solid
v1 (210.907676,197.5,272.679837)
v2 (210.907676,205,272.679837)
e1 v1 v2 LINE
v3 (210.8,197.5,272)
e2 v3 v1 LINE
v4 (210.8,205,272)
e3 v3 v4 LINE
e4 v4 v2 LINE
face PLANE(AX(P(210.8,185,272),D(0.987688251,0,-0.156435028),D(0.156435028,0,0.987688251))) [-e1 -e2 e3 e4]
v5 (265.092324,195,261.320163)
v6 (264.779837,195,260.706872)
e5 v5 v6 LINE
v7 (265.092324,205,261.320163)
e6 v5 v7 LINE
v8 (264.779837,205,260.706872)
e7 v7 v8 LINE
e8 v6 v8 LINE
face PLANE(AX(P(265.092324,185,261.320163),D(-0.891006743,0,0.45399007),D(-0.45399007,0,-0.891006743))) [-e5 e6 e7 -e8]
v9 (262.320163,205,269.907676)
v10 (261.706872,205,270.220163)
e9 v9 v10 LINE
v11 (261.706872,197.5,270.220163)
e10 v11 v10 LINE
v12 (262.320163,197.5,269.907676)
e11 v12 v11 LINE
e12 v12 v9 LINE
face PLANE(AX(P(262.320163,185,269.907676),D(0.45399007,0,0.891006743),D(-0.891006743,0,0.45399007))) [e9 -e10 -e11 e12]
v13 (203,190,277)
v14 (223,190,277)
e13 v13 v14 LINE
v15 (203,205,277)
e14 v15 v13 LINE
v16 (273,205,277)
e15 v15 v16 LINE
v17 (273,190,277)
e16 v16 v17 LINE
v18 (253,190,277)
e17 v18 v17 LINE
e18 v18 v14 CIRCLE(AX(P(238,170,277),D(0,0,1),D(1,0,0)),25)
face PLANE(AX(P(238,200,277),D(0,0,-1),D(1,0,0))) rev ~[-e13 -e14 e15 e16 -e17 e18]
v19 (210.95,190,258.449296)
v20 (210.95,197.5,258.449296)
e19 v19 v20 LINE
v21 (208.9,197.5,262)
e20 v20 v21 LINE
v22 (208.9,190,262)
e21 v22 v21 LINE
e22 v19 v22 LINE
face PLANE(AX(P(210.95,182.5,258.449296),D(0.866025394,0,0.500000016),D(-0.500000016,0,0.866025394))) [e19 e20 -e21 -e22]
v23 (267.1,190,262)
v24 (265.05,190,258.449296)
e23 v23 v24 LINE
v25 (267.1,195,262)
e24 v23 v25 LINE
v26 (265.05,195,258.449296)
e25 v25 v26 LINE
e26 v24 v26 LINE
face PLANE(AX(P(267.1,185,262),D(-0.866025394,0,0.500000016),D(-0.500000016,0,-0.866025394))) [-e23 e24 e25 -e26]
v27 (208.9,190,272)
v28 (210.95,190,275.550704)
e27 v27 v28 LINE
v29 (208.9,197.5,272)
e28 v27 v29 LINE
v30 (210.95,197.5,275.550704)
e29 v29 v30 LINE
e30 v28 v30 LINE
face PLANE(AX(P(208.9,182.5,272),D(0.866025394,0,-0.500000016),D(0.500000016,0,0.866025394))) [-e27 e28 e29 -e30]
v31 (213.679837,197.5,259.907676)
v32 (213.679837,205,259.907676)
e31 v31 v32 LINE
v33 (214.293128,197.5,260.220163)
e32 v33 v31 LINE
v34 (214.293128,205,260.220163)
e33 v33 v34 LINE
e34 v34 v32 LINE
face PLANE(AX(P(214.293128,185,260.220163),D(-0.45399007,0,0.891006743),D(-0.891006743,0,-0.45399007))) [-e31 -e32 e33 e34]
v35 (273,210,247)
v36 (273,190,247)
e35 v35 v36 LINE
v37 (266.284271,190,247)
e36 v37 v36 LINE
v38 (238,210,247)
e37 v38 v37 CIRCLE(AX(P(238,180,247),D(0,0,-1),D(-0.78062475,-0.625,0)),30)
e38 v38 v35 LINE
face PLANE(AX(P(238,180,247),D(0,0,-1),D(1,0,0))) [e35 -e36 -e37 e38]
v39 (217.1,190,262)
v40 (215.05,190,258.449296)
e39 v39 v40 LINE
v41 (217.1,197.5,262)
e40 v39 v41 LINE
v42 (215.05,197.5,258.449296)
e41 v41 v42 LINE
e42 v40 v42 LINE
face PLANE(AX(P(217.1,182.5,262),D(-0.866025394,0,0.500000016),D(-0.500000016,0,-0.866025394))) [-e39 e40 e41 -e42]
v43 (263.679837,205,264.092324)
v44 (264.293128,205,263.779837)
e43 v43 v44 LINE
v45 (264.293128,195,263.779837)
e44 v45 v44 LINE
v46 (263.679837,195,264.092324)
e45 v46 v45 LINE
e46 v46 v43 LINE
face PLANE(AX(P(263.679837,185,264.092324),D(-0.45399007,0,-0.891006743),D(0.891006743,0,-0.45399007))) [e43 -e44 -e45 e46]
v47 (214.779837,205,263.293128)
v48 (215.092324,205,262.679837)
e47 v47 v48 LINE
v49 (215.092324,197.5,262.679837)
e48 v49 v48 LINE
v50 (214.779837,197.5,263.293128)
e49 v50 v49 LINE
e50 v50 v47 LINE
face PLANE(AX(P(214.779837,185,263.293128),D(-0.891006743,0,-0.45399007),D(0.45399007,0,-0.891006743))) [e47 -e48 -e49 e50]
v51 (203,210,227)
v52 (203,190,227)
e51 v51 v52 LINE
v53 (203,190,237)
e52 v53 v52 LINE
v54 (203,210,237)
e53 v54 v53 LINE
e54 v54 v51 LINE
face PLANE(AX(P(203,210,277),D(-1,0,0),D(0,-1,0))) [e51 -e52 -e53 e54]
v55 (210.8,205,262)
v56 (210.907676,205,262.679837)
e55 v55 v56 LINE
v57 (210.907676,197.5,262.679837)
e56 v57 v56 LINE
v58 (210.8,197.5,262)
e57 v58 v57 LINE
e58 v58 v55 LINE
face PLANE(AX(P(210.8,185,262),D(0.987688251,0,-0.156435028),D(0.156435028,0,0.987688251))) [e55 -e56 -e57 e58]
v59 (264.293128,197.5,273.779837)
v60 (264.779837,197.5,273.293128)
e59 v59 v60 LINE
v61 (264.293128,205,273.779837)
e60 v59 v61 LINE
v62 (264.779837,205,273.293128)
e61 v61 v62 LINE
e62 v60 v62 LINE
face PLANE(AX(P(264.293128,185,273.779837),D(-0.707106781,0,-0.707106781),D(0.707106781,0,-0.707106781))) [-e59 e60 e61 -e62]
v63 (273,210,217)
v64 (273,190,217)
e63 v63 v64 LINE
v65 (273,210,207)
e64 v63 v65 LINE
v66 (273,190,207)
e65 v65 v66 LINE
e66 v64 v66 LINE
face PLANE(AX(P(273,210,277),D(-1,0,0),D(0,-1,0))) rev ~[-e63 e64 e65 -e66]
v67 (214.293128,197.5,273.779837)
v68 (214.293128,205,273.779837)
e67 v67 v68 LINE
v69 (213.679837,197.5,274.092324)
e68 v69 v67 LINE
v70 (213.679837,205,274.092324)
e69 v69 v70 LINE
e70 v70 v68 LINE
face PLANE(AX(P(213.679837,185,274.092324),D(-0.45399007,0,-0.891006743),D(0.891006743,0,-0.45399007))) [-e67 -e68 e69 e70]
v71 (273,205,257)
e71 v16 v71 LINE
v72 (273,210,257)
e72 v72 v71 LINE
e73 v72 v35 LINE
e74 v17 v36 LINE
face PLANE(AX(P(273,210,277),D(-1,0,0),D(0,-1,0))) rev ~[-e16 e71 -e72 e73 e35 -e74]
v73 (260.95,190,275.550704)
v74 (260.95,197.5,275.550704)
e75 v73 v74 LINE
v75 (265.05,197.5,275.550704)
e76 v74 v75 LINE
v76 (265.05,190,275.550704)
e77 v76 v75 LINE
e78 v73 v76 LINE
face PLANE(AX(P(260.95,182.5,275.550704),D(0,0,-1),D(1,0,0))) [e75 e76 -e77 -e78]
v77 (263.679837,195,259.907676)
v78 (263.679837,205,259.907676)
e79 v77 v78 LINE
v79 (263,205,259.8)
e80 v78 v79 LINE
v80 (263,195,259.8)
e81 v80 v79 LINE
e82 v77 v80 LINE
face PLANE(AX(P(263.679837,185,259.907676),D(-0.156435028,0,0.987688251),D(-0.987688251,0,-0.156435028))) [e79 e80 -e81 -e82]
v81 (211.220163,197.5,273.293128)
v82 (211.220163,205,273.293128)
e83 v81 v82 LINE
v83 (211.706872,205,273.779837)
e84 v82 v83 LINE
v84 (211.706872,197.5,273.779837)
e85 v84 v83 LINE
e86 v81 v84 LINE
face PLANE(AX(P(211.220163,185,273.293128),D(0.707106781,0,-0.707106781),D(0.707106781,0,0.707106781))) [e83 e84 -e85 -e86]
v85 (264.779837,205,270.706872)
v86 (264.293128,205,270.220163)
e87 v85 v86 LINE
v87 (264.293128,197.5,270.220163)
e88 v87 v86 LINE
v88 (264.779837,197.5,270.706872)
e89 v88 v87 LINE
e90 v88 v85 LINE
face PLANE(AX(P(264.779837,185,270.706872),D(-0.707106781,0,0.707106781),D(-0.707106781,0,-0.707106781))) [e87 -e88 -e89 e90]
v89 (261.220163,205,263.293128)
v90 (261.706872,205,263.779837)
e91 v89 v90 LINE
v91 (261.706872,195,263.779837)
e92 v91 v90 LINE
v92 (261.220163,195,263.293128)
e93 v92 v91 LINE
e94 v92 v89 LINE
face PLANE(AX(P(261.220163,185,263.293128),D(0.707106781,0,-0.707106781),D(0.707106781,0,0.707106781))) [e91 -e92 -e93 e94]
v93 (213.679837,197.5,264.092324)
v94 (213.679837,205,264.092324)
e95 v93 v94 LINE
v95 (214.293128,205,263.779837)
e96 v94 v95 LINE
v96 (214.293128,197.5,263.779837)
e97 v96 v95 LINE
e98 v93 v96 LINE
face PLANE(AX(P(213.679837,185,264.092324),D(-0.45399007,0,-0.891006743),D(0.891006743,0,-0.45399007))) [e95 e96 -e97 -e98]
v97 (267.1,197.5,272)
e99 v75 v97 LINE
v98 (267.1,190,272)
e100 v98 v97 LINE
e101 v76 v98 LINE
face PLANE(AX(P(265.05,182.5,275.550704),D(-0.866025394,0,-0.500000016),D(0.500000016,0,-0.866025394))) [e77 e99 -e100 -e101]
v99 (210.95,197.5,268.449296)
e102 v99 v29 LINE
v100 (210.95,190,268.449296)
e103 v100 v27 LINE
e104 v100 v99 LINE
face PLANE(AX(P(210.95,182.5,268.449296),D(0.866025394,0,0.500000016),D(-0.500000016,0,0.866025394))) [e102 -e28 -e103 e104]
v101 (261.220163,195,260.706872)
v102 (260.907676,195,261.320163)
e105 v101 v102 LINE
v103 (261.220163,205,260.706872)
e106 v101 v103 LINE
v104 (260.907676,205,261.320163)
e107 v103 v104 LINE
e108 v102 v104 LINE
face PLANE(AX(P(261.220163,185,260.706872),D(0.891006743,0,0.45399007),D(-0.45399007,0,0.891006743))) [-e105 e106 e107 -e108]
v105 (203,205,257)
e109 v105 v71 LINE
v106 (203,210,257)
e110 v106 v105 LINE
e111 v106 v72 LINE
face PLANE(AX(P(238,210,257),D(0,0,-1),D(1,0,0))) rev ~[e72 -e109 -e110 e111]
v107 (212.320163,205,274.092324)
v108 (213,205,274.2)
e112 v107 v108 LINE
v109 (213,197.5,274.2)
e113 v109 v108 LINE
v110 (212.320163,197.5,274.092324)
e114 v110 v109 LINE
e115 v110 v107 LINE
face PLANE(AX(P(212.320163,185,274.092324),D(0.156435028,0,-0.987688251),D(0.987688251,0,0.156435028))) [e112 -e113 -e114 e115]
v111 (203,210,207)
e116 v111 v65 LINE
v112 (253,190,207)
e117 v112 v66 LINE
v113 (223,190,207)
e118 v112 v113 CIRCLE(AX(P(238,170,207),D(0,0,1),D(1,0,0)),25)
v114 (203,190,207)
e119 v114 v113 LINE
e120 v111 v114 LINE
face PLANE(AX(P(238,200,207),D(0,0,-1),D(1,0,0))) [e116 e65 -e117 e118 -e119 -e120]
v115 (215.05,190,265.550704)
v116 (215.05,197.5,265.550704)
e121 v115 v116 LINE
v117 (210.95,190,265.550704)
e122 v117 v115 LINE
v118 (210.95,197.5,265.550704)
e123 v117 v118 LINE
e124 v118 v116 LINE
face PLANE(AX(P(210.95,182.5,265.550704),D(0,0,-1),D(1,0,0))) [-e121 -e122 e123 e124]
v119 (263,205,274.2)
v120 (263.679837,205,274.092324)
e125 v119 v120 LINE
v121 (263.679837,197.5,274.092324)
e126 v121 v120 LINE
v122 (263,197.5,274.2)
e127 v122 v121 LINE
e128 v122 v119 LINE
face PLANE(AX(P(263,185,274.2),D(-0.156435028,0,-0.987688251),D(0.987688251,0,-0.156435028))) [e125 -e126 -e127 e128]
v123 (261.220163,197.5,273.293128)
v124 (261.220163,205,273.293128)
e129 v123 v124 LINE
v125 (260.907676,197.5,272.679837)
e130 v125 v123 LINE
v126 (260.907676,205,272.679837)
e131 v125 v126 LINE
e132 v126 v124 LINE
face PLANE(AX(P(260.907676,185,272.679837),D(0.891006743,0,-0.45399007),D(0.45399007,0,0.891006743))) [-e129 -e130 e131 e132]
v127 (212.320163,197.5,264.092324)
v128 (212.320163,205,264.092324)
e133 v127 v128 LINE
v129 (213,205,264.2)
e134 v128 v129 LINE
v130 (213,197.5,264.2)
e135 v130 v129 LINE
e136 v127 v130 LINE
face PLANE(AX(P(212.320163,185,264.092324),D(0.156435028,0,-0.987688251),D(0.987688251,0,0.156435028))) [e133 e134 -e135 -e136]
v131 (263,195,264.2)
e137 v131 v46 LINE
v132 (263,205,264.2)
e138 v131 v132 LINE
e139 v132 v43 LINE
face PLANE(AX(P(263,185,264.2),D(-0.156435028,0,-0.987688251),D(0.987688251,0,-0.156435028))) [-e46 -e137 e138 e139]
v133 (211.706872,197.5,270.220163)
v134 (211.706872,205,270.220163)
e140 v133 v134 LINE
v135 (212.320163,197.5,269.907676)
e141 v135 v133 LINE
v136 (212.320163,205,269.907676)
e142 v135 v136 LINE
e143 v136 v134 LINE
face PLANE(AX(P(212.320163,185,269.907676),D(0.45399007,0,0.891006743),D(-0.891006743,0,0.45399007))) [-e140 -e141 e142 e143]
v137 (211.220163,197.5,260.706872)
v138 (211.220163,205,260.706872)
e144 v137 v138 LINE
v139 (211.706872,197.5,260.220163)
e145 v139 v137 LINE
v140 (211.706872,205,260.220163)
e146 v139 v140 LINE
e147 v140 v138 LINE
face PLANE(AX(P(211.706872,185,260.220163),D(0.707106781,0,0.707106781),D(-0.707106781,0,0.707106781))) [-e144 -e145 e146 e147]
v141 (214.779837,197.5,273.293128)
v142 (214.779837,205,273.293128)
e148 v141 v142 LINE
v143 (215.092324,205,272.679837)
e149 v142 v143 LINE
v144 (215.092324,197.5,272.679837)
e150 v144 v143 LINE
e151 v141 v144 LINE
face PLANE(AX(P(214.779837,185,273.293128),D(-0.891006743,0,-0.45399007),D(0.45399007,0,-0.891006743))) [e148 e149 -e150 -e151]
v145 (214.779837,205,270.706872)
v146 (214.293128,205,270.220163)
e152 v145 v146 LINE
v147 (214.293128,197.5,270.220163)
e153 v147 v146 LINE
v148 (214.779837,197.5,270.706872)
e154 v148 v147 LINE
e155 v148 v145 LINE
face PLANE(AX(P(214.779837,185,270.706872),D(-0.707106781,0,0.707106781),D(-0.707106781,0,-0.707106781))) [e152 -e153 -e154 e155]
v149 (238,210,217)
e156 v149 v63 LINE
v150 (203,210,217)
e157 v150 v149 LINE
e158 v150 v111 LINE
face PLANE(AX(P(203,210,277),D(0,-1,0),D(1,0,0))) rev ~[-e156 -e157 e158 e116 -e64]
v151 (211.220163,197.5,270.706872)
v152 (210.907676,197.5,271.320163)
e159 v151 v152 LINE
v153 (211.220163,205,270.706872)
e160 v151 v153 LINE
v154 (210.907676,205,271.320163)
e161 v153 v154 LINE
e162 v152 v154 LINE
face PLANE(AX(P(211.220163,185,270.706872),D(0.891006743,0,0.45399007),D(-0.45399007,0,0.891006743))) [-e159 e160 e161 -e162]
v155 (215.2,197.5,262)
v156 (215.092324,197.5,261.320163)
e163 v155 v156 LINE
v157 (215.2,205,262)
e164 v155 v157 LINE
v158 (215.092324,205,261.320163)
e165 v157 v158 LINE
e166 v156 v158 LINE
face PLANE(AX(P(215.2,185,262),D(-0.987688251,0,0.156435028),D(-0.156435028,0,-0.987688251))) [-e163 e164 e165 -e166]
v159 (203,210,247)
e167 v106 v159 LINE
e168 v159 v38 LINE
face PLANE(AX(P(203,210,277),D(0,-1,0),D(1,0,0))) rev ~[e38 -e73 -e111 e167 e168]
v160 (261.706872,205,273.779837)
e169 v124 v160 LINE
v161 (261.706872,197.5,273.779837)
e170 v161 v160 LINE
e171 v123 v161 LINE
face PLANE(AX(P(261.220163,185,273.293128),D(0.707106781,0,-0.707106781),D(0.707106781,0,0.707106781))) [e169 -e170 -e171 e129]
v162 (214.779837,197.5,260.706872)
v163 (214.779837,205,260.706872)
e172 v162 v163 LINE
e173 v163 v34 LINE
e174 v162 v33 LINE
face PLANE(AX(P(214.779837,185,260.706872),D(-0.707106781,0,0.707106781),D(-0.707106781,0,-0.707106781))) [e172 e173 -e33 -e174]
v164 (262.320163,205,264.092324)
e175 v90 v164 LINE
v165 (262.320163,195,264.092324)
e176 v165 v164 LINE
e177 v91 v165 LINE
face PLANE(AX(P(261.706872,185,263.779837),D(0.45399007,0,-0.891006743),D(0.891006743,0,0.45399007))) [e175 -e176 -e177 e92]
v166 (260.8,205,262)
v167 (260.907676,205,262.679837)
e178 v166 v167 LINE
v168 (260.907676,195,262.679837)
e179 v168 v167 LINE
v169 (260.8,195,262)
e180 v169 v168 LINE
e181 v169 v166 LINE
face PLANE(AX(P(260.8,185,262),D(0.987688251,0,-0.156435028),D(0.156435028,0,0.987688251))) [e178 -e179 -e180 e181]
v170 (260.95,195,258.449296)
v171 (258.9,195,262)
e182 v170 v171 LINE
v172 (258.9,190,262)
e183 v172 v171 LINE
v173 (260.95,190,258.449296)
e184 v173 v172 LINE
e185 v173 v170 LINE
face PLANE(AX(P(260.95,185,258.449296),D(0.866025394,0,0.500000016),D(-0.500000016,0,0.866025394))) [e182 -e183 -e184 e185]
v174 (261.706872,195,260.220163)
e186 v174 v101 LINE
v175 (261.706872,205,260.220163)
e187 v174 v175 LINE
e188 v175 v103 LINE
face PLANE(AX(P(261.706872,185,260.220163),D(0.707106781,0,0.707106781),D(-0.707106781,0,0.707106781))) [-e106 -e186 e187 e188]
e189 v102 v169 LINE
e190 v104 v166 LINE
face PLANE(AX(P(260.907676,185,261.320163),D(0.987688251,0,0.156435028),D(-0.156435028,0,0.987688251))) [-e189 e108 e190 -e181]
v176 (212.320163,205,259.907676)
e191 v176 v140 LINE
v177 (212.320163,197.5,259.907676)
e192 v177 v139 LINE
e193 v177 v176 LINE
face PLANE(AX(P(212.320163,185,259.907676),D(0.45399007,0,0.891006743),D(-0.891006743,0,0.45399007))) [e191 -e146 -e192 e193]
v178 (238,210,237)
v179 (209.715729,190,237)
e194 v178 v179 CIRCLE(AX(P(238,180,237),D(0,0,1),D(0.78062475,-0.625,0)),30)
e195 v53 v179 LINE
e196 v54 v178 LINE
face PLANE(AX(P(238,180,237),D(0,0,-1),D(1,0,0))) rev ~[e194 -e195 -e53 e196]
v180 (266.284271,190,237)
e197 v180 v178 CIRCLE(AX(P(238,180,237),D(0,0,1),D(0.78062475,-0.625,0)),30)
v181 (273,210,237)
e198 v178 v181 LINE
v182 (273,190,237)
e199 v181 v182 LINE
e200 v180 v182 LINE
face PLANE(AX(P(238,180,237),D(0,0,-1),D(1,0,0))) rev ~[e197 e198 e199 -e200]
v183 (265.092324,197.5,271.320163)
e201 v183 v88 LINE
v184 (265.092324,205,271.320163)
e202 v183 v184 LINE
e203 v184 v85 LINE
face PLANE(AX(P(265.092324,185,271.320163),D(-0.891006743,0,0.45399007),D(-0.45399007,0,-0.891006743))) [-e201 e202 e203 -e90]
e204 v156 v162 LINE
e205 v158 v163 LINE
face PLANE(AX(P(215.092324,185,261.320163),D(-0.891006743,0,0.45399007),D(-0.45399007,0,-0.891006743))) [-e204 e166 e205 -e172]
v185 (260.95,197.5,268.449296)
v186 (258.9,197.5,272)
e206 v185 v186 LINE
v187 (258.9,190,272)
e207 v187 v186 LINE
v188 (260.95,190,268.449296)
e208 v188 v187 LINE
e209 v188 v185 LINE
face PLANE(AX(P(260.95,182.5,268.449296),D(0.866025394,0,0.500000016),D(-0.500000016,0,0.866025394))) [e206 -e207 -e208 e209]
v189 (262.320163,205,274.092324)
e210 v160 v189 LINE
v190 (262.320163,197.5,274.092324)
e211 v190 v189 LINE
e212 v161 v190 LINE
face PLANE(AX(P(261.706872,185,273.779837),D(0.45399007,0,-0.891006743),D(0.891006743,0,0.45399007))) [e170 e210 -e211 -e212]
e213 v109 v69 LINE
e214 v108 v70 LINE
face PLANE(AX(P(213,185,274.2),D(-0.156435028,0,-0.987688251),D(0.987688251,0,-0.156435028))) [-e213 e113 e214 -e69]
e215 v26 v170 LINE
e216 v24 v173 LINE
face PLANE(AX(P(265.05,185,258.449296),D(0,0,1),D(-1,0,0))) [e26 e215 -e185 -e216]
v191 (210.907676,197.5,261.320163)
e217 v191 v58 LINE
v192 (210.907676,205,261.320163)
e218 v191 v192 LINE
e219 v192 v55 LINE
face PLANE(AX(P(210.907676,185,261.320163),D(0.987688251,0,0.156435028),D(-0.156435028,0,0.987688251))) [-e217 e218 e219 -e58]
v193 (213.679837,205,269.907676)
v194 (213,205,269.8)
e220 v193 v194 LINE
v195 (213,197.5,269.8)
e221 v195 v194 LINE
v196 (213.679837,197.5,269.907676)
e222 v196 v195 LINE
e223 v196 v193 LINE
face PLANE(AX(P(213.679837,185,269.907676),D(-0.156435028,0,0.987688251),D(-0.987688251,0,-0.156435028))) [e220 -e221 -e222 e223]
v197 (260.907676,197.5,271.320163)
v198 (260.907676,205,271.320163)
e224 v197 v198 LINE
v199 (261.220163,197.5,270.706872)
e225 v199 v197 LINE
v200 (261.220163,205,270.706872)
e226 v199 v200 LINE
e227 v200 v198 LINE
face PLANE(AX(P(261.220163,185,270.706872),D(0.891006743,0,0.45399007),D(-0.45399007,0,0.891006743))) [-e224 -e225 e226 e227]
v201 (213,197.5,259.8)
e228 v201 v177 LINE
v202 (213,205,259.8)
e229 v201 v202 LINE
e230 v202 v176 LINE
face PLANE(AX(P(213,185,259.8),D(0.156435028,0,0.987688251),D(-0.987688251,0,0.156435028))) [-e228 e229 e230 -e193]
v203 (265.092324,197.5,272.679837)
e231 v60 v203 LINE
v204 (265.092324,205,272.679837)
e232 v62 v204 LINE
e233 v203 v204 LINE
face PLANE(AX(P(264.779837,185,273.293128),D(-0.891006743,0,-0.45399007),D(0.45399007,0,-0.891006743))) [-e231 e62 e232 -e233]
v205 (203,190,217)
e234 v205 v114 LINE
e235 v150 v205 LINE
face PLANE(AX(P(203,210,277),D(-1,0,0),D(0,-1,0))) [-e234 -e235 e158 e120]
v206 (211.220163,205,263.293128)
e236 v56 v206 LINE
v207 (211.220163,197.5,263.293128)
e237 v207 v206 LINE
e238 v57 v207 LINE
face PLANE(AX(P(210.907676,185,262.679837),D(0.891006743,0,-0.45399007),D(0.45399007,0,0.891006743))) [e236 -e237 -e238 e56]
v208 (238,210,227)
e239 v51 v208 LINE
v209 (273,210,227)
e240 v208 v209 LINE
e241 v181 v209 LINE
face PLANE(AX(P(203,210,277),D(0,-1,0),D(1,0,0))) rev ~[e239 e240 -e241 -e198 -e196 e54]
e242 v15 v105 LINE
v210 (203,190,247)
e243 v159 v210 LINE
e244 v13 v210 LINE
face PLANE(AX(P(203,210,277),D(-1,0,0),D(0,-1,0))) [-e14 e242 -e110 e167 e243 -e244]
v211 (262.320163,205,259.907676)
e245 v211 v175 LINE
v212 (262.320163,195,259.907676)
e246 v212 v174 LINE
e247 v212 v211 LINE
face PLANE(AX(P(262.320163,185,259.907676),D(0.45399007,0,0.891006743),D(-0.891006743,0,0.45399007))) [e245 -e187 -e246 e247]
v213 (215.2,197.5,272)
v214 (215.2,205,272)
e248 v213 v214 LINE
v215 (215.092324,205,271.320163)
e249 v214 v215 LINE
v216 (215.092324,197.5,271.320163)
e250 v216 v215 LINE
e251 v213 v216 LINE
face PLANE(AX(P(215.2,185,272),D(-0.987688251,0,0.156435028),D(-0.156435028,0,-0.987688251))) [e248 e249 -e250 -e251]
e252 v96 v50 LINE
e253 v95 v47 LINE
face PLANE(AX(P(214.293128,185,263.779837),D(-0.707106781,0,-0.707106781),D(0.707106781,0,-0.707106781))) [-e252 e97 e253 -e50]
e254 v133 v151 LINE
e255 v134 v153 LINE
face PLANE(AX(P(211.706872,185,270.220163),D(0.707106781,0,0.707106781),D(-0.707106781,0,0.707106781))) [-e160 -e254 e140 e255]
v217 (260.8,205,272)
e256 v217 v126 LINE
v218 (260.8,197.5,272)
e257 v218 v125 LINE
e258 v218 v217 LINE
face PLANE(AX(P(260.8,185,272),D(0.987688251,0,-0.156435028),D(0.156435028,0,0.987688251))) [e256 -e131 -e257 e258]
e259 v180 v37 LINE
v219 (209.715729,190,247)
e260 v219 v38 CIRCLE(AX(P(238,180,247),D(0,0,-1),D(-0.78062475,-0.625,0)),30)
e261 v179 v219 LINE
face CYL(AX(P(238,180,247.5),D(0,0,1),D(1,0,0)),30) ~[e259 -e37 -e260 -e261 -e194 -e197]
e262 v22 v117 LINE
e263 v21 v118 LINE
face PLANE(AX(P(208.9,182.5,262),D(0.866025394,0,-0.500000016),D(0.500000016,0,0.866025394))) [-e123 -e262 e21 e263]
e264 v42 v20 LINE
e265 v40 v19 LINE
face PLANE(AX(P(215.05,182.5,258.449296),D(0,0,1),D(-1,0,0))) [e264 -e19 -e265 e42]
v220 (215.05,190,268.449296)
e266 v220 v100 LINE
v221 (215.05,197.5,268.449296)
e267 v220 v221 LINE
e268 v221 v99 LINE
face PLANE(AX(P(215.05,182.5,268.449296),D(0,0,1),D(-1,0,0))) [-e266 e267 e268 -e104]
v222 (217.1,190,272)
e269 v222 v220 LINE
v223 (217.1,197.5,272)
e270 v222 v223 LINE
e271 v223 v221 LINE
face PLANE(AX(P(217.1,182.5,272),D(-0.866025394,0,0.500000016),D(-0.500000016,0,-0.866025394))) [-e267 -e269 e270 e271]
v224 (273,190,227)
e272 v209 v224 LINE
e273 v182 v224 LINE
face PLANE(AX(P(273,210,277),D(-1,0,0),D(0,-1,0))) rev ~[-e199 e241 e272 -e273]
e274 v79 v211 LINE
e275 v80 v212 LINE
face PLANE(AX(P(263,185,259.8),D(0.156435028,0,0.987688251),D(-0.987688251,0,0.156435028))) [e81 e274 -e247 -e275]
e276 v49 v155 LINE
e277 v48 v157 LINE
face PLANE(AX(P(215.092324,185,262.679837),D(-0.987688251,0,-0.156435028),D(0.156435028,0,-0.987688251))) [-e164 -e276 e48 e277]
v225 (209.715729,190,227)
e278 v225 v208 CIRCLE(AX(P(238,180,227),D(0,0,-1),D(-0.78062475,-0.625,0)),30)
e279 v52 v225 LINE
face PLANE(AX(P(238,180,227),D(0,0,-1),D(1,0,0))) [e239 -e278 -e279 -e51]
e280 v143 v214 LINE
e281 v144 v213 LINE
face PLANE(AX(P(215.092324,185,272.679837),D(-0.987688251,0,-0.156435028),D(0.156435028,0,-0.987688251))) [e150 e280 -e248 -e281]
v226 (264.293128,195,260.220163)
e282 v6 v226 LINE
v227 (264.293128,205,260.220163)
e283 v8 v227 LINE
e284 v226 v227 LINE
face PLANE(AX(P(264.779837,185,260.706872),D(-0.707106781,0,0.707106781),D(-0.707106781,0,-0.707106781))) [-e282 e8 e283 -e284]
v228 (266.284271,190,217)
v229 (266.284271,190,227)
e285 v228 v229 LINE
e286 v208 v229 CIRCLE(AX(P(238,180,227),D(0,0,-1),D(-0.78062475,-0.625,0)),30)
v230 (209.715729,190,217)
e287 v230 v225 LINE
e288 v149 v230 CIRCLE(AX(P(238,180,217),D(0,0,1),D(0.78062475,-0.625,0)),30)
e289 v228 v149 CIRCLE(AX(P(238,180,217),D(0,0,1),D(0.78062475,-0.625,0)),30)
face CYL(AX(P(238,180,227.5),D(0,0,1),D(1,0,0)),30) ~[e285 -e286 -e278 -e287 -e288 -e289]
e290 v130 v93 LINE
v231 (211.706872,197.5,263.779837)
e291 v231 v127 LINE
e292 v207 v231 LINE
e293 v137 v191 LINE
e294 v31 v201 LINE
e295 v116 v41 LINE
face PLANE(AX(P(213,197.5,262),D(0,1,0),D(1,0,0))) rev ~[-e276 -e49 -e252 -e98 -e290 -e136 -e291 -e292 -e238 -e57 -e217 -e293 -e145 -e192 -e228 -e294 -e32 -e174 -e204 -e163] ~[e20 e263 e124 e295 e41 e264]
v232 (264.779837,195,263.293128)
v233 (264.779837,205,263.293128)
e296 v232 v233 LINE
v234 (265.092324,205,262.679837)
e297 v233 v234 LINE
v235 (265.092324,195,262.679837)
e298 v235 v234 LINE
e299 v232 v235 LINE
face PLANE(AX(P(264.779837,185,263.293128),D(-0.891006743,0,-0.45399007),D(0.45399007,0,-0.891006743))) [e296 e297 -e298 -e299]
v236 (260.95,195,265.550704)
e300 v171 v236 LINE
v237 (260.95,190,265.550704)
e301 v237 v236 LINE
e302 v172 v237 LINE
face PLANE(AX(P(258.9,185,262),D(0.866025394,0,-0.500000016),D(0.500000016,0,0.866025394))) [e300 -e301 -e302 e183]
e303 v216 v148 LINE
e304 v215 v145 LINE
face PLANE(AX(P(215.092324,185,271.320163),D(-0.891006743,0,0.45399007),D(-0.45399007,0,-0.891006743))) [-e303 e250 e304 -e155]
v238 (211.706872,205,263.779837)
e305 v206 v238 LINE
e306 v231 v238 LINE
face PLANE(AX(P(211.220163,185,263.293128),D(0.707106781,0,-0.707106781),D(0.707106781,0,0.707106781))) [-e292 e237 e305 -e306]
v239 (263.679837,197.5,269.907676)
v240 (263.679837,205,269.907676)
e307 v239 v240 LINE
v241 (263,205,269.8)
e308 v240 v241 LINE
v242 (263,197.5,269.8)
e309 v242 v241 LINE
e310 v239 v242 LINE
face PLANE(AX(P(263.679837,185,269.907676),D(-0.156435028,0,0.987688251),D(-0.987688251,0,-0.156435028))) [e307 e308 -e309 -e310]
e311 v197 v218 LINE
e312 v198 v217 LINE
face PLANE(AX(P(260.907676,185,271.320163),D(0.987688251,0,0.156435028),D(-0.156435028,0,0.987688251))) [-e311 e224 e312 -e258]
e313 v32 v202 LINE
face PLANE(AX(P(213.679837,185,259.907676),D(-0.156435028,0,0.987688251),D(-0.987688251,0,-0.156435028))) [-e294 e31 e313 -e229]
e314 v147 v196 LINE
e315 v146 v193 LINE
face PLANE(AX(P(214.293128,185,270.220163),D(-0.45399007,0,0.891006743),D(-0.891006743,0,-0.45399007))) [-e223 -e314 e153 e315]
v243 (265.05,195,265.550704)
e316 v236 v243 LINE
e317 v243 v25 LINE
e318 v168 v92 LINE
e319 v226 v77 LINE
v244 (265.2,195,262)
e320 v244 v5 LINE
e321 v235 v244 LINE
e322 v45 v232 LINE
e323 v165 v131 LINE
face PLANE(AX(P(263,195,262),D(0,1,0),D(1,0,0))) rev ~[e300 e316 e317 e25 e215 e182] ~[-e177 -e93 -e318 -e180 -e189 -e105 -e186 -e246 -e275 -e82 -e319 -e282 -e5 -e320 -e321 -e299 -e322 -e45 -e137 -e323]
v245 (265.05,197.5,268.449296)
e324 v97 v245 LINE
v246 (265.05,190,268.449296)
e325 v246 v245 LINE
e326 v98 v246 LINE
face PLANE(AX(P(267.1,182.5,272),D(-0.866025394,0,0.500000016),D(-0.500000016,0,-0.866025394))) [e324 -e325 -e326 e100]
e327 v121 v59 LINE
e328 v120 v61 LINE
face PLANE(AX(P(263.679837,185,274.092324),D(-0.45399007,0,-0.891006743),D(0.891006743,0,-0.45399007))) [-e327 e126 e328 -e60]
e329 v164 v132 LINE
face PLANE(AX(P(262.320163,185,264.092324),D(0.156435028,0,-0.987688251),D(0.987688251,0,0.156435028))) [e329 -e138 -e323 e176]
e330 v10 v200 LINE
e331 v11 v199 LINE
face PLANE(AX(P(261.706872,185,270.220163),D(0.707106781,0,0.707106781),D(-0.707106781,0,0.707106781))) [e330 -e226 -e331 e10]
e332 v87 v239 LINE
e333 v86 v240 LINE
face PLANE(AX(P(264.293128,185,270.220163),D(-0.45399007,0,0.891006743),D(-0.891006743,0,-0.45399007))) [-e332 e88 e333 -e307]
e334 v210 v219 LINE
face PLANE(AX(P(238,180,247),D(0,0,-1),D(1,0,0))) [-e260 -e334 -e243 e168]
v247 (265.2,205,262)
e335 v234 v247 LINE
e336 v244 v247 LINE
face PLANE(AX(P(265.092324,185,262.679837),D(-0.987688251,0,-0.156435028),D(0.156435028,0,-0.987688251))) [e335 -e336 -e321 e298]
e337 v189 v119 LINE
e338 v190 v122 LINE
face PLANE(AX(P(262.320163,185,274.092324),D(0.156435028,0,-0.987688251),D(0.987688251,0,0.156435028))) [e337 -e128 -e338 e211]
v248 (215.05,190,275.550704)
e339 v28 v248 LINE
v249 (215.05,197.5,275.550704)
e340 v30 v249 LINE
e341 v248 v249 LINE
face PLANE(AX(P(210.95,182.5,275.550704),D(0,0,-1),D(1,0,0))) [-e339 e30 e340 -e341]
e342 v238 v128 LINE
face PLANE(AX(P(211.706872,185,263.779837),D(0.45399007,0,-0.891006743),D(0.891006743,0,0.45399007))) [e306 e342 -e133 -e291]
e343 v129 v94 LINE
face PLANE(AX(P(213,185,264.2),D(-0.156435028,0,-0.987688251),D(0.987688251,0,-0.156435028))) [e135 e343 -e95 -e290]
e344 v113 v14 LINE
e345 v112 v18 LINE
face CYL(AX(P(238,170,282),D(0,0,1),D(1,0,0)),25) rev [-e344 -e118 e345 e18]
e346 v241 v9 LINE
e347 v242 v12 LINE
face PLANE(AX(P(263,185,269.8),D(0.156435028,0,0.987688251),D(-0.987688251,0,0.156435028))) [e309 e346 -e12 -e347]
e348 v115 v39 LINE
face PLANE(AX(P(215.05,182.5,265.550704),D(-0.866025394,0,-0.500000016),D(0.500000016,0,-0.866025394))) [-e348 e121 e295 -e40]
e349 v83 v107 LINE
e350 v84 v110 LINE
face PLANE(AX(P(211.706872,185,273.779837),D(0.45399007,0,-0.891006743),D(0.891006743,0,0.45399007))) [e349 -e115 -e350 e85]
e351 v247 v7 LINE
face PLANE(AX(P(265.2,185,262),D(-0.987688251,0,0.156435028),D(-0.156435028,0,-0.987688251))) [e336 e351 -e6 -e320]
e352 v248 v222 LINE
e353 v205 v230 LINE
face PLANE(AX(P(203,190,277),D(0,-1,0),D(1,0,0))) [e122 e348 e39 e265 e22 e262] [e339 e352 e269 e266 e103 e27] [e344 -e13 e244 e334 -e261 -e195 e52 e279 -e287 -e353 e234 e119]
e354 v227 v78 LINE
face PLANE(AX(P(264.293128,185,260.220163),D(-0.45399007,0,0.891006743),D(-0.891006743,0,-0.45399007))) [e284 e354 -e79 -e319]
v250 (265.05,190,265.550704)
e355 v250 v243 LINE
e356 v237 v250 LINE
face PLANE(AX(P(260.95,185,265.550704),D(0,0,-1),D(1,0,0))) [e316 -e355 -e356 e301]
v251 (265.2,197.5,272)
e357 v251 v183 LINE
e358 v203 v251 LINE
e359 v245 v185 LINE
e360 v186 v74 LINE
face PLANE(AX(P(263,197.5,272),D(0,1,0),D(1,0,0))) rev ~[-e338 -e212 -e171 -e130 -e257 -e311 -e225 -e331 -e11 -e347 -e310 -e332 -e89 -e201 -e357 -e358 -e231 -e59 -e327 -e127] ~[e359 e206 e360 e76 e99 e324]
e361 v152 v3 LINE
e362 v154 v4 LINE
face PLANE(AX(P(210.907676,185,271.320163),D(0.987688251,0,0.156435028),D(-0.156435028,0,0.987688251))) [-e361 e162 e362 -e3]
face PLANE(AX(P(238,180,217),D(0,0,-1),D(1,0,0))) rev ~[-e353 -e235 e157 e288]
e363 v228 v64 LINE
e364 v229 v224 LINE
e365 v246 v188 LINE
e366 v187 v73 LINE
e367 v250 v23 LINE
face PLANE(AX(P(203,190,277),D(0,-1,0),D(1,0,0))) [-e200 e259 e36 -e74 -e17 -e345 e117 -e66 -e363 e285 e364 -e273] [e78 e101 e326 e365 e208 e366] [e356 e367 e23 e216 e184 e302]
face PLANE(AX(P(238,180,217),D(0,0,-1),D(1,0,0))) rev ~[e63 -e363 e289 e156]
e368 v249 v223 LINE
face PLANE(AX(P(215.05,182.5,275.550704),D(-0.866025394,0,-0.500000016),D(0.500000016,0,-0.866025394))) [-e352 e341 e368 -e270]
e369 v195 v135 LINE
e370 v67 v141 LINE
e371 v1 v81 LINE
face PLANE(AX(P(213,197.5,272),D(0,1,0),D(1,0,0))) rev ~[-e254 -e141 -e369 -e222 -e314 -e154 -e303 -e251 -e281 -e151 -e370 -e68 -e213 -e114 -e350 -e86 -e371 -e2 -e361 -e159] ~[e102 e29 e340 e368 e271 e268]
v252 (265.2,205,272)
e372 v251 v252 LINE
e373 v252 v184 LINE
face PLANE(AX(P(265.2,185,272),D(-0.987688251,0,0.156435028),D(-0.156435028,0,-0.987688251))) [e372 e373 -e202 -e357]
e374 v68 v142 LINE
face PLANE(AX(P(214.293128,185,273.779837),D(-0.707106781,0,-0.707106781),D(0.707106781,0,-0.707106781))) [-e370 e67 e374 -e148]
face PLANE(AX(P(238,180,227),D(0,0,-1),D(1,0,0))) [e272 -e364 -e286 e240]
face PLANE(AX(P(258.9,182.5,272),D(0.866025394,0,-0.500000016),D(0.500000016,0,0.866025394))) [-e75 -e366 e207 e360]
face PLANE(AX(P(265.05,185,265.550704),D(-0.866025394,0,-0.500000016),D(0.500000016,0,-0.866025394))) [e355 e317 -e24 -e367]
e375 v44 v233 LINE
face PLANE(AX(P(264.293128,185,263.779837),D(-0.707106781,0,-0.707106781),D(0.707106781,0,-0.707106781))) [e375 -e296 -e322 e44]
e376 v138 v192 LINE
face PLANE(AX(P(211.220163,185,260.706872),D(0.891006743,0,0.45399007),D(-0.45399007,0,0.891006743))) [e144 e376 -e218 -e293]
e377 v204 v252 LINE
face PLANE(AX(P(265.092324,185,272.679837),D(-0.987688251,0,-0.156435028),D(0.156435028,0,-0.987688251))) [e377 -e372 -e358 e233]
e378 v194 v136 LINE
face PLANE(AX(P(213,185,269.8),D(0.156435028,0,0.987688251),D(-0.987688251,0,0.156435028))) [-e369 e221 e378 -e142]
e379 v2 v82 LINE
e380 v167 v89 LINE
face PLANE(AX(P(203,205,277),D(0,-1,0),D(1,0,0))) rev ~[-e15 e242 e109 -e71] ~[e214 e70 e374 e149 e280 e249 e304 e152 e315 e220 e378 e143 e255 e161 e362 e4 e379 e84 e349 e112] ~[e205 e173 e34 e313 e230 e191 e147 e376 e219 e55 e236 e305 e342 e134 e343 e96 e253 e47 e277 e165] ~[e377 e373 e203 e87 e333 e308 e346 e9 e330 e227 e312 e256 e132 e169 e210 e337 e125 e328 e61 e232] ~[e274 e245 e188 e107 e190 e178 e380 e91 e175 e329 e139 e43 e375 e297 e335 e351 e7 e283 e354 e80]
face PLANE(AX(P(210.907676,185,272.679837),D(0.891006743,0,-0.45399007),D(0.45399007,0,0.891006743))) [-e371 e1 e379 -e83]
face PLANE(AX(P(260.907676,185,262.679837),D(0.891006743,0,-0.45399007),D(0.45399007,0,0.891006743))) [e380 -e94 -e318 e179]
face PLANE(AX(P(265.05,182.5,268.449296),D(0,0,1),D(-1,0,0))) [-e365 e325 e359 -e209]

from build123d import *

# Parameters (mm, degrees)
CYLINDER022_R                 = 25
CYLINDER022_DEPTH             = 80
CYLINDER024_R                 = 30
CYLINDER024_DEPTH             = 11
CYLINDER023_R                 = 60
CYLINDER023_DEPTH             = 10
CYLINDER026_R                 = 30
CYLINDER026_DEPTH             = 11
CYLINDER025_R                 = 60
CYLINDER025_DEPTH             = 10
PRISM098_DEPTH                = 30
PRISM098_ROLL_ANGLE           = 90
PRISM099_DEPTH                = 10
PRISM099_ROLL_ANGLE           = 90
PRISM100_DEPTH                = 30
PRISM100_ROLL_ANGLE           = 90
PRISM101_DEPTH                = 15
PRISM101_ROLL_ANGLE           = 90
PRISM102_DEPTH                = 30
PRISM102_ROLL_ANGLE           = 90
PRISM103_DEPTH                = 15
PRISM103_ROLL_ANGLE           = 90
PRISM104_DEPTH                = 30
PRISM104_ROLL_ANGLE           = 90
PRISM105_DEPTH                = 15
PRISM105_ROLL_ANGLE           = 90
CUBE094_W                     = 70
CUBE094_H                     = 10
CUBE094_DEPTH                 = 20
CUBE093_W                     = 70
CUBE093_H                     = 20
CUBE093_DEPTH                 = 70
DIFFERENCE058_PLACEMENT_ANGLE = 180


with BuildPart() as cylinder022:
    # cylinder022 → cylinder022 (new body)
    with BuildSketch(Plane(origin=(0, 30, -40), x_dir=(1, 0, 0), z_dir=(0, 0, 1))):
        Circle(CYLINDER022_R)
    extrude(amount=CYLINDER022_DEPTH)


with BuildPart() as cylinder024:
    # cylinder024 → cylinder024 (new body)
    with BuildSketch(Plane(origin=(0, 20, -5.5), x_dir=(1, 0, 0), z_dir=(0, 0, 1))):
        Circle(CYLINDER024_R)
    extrude(amount=CYLINDER024_DEPTH)


with BuildPart() as difference056:
    # cylinder023 → cylinder023 (new body)
    with BuildSketch(Plane(origin=(0, 20, -5), x_dir=(1, 0, 0), z_dir=(0, 0, 1))):
        Circle(CYLINDER023_R)
    extrude(amount=CYLINDER023_DEPTH)

    # difference056: cut cylinder024
    add(cylinder024.part, mode=Mode.SUBTRACT)


with BuildPart() as cylinder026:
    # cylinder026 → cylinder026 (new body)
    with BuildSketch(Plane(origin=(0, 20, 14.5), x_dir=(1, 0, 0), z_dir=(0, 0, 1))):
        Circle(CYLINDER026_R)
    extrude(amount=CYLINDER026_DEPTH)


with BuildPart() as difference057:
    # cylinder025 → cylinder025 (new body)
    with BuildSketch(Plane(origin=(0, 20, 15), x_dir=(1, 0, 0), z_dir=(0, 0, 1))):
        Circle(CYLINDER025_R)
    extrude(amount=CYLINDER025_DEPTH)

    # difference057: cut cylinder026
    add(cylinder026.part, mode=Mode.SUBTRACT)


with BuildPart() as prism098:
    # prism098 → prism098 (new body)
    with BuildSketch(Plane.XY):
        Polygon((2.2, 0), (2.092324, 0.679837), (1.779837, 1.293128), (1.293128, 1.779837), (0.679837, 2.092324), (0, 2.2), (-0.679837, 2.092324), (-1.293128, 1.779837), (-1.779837, 1.293128), (-2.092324, 0.679837), (-2.2, 0), (-2.092324, -0.679837), (-1.779837, -1.293128), (-1.293128, -1.779837), (-0.679837, -2.092324), (0, -2.2), (0.679837, -2.092324), (1.293128, -1.779837), (1.779837, -1.293128), (2.092324, -0.679837), align=None)
    extrude(amount=PRISM098_DEPTH)


with BuildPart() as prism098_1:
    # prism098 roll: moved
    add(prism098.part.rotate(Axis((0, 0, 0), (1, 0, 0)), PRISM098_ROLL_ANGLE))


with BuildPart() as prism098_2:
    # prism098 placement: moved
    add(prism098_1.part.moved(Location((25, 15, -20))))


with BuildPart() as prism099:
    # prism099 → prism099 (new body)
    with BuildSketch(Plane.XY):
        Polygon((4.1, 0), (2.05, 3.550704), (-2.05, 3.550704), (-4.1, 0), (-2.05, -3.550704), (2.05, -3.550704), align=None)
    extrude(amount=PRISM099_DEPTH)


with BuildPart() as prism099_1:
    # prism099 roll: moved
    add(prism099.part.rotate(Axis((0, 0, 0), (1, 0, 0)), PRISM099_ROLL_ANGLE))


with BuildPart() as prism099_2:
    # prism099 placement: moved
    add(prism099_1.part.moved(Location((25, 15, -20))))


with BuildPart() as prism100:
    # prism100 → prism100 (new body)
    with BuildSketch(Plane.XY):
        Polygon((2.2, 0), (2.092324, 0.679837), (1.779837, 1.293128), (1.293128, 1.779837), (0.679837, 2.092324), (0, 2.2), (-0.679837, 2.092324), (-1.293128, 1.779837), (-1.779837, 1.293128), (-2.092324, 0.679837), (-2.2, 0), (-2.092324, -0.679837), (-1.779837, -1.293128), (-1.293128, -1.779837), (-0.679837, -2.092324), (0, -2.2), (0.679837, -2.092324), (1.293128, -1.779837), (1.779837, -1.293128), (2.092324, -0.679837), align=None)
    extrude(amount=PRISM100_DEPTH)


with BuildPart() as prism100_1:
    # prism100 roll: moved
    add(prism100.part.rotate(Axis((0, 0, 0), (1, 0, 0)), PRISM100_ROLL_ANGLE))


with BuildPart() as prism100_2:
    # prism100 placement: moved
    add(prism100_1.part.moved(Location((25, 15, -30))))


with BuildPart() as prism101:
    # prism101 → prism101 (new body)
    with BuildSketch(Plane.XY):
        Polygon((4.1, 0), (2.05, 3.550704), (-2.05, 3.550704), (-4.1, 0), (-2.05, -3.550704), (2.05, -3.550704), align=None)
    extrude(amount=PRISM101_DEPTH)


with BuildPart() as prism101_1:
    # prism101 roll: moved
    add(prism101.part.rotate(Axis((0, 0, 0), (1, 0, 0)), PRISM101_ROLL_ANGLE))


with BuildPart() as prism101_2:
    # prism101 placement: moved
    add(prism101_1.part.moved(Location((25, 17.5, -30))))


with BuildPart() as prism102:
    # prism102 → prism102 (new body)
    with BuildSketch(Plane.XY):
        Polygon((2.2, 0), (2.092324, 0.679837), (1.779837, 1.293128), (1.293128, 1.779837), (0.679837, 2.092324), (0, 2.2), (-0.679837, 2.092324), (-1.293128, 1.779837), (-1.779837, 1.293128), (-2.092324, 0.679837), (-2.2, 0), (-2.092324, -0.679837), (-1.779837, -1.293128), (-1.293128, -1.779837), (-0.679837, -2.092324), (0, -2.2), (0.679837, -2.092324), (1.293128, -1.779837), (1.779837, -1.293128), (2.092324, -0.679837), align=None)
    extrude(amount=PRISM102_DEPTH)


with BuildPart() as prism102_1:
    # prism102 roll: moved
    add(prism102.part.rotate(Axis((0, 0, 0), (1, 0, 0)), PRISM102_ROLL_ANGLE))


with BuildPart() as prism102_2:
    # prism102 placement: moved
    add(prism102_1.part.moved(Location((-25, 15, -20))))


with BuildPart() as prism103:
    # prism103 → prism103 (new body)
    with BuildSketch(Plane.XY):
        Polygon((4.1, 0), (2.05, 3.550704), (-2.05, 3.550704), (-4.1, 0), (-2.05, -3.550704), (2.05, -3.550704), align=None)
    extrude(amount=PRISM103_DEPTH)


with BuildPart() as prism103_1:
    # prism103 roll: moved
    add(prism103.part.rotate(Axis((0, 0, 0), (1, 0, 0)), PRISM103_ROLL_ANGLE))


with BuildPart() as prism103_2:
    # prism103 placement: moved
    add(prism103_1.part.moved(Location((-25, 17.5, -20))))


with BuildPart() as prism104:
    # prism104 → prism104 (new body)
    with BuildSketch(Plane.XY):
        Polygon((2.2, 0), (2.092324, 0.679837), (1.779837, 1.293128), (1.293128, 1.779837), (0.679837, 2.092324), (0, 2.2), (-0.679837, 2.092324), (-1.293128, 1.779837), (-1.779837, 1.293128), (-2.092324, 0.679837), (-2.2, 0), (-2.092324, -0.679837), (-1.779837, -1.293128), (-1.293128, -1.779837), (-0.679837, -2.092324), (0, -2.2), (0.679837, -2.092324), (1.293128, -1.779837), (1.779837, -1.293128), (2.092324, -0.679837), align=None)
    extrude(amount=PRISM104_DEPTH)


with BuildPart() as prism104_1:
    # prism104 roll: moved
    add(prism104.part.rotate(Axis((0, 0, 0), (1, 0, 0)), PRISM104_ROLL_ANGLE))


with BuildPart() as prism104_2:
    # prism104 placement: moved
    add(prism104_1.part.moved(Location((-25, 15, -30))))


with BuildPart() as prism105:
    # prism105 → prism105 (new body)
    with BuildSketch(Plane.XY):
        Polygon((4.1, 0), (2.05, 3.550704), (-2.05, 3.550704), (-4.1, 0), (-2.05, -3.550704), (2.05, -3.550704), align=None)
    extrude(amount=PRISM105_DEPTH)


with BuildPart() as prism105_1:
    # prism105 roll: moved
    add(prism105.part.rotate(Axis((0, 0, 0), (1, 0, 0)), PRISM105_ROLL_ANGLE))


with BuildPart() as prism105_2:
    # prism105 placement: moved
    add(prism105_1.part.moved(Location((-25, 17.5, -30))))


with BuildPart() as union045:
    # cube094 → cube094 (new body)
    with BuildSketch(Plane(origin=(-35, -15, -35), x_dir=(1, 0, 0), z_dir=(0, 0, 1))):
        with Locations((35, 5)):
            Rectangle(CUBE094_W, CUBE094_H)
    extrude(amount=CUBE094_DEPTH)

    # union045: union cylinder022, difference056, difference057, prism098, prism099, prism100, prism101, prism102, prism103, prism104, prism105
    add(cylinder022.part)
    add(difference056.part)
    add(difference057.part)
    add(prism098_2.part)
    add(prism099_2.part)
    add(prism100_2.part)
    add(prism101_2.part)
    add(prism102_2.part)
    add(prism103_2.part)
    add(prism104_2.part)
    add(prism105_2.part)


with BuildPart() as tool_holder:
    # cube093 → cube093 (new body)
    with BuildSketch(Plane(origin=(-35, -10, -35), x_dir=(1, 0, 0), z_dir=(0, 0, 1))):
        with Locations((35, 10)):
            Rectangle(CUBE093_W, CUBE093_H)
    extrude(amount=CUBE093_DEPTH)

    # difference058: cut union045
    add(union045.part, mode=Mode.SUBTRACT)


with BuildPart() as tool_holder_1:
    # difference058 placement: moved
    add(tool_holder.part.moved(Location((238, 200, 242))).rotate(Axis((238, 200, 242), (1, 0, 0)), DIFFERENCE058_PLACEMENT_ANGLE))


solid = tool_holder_1.part
